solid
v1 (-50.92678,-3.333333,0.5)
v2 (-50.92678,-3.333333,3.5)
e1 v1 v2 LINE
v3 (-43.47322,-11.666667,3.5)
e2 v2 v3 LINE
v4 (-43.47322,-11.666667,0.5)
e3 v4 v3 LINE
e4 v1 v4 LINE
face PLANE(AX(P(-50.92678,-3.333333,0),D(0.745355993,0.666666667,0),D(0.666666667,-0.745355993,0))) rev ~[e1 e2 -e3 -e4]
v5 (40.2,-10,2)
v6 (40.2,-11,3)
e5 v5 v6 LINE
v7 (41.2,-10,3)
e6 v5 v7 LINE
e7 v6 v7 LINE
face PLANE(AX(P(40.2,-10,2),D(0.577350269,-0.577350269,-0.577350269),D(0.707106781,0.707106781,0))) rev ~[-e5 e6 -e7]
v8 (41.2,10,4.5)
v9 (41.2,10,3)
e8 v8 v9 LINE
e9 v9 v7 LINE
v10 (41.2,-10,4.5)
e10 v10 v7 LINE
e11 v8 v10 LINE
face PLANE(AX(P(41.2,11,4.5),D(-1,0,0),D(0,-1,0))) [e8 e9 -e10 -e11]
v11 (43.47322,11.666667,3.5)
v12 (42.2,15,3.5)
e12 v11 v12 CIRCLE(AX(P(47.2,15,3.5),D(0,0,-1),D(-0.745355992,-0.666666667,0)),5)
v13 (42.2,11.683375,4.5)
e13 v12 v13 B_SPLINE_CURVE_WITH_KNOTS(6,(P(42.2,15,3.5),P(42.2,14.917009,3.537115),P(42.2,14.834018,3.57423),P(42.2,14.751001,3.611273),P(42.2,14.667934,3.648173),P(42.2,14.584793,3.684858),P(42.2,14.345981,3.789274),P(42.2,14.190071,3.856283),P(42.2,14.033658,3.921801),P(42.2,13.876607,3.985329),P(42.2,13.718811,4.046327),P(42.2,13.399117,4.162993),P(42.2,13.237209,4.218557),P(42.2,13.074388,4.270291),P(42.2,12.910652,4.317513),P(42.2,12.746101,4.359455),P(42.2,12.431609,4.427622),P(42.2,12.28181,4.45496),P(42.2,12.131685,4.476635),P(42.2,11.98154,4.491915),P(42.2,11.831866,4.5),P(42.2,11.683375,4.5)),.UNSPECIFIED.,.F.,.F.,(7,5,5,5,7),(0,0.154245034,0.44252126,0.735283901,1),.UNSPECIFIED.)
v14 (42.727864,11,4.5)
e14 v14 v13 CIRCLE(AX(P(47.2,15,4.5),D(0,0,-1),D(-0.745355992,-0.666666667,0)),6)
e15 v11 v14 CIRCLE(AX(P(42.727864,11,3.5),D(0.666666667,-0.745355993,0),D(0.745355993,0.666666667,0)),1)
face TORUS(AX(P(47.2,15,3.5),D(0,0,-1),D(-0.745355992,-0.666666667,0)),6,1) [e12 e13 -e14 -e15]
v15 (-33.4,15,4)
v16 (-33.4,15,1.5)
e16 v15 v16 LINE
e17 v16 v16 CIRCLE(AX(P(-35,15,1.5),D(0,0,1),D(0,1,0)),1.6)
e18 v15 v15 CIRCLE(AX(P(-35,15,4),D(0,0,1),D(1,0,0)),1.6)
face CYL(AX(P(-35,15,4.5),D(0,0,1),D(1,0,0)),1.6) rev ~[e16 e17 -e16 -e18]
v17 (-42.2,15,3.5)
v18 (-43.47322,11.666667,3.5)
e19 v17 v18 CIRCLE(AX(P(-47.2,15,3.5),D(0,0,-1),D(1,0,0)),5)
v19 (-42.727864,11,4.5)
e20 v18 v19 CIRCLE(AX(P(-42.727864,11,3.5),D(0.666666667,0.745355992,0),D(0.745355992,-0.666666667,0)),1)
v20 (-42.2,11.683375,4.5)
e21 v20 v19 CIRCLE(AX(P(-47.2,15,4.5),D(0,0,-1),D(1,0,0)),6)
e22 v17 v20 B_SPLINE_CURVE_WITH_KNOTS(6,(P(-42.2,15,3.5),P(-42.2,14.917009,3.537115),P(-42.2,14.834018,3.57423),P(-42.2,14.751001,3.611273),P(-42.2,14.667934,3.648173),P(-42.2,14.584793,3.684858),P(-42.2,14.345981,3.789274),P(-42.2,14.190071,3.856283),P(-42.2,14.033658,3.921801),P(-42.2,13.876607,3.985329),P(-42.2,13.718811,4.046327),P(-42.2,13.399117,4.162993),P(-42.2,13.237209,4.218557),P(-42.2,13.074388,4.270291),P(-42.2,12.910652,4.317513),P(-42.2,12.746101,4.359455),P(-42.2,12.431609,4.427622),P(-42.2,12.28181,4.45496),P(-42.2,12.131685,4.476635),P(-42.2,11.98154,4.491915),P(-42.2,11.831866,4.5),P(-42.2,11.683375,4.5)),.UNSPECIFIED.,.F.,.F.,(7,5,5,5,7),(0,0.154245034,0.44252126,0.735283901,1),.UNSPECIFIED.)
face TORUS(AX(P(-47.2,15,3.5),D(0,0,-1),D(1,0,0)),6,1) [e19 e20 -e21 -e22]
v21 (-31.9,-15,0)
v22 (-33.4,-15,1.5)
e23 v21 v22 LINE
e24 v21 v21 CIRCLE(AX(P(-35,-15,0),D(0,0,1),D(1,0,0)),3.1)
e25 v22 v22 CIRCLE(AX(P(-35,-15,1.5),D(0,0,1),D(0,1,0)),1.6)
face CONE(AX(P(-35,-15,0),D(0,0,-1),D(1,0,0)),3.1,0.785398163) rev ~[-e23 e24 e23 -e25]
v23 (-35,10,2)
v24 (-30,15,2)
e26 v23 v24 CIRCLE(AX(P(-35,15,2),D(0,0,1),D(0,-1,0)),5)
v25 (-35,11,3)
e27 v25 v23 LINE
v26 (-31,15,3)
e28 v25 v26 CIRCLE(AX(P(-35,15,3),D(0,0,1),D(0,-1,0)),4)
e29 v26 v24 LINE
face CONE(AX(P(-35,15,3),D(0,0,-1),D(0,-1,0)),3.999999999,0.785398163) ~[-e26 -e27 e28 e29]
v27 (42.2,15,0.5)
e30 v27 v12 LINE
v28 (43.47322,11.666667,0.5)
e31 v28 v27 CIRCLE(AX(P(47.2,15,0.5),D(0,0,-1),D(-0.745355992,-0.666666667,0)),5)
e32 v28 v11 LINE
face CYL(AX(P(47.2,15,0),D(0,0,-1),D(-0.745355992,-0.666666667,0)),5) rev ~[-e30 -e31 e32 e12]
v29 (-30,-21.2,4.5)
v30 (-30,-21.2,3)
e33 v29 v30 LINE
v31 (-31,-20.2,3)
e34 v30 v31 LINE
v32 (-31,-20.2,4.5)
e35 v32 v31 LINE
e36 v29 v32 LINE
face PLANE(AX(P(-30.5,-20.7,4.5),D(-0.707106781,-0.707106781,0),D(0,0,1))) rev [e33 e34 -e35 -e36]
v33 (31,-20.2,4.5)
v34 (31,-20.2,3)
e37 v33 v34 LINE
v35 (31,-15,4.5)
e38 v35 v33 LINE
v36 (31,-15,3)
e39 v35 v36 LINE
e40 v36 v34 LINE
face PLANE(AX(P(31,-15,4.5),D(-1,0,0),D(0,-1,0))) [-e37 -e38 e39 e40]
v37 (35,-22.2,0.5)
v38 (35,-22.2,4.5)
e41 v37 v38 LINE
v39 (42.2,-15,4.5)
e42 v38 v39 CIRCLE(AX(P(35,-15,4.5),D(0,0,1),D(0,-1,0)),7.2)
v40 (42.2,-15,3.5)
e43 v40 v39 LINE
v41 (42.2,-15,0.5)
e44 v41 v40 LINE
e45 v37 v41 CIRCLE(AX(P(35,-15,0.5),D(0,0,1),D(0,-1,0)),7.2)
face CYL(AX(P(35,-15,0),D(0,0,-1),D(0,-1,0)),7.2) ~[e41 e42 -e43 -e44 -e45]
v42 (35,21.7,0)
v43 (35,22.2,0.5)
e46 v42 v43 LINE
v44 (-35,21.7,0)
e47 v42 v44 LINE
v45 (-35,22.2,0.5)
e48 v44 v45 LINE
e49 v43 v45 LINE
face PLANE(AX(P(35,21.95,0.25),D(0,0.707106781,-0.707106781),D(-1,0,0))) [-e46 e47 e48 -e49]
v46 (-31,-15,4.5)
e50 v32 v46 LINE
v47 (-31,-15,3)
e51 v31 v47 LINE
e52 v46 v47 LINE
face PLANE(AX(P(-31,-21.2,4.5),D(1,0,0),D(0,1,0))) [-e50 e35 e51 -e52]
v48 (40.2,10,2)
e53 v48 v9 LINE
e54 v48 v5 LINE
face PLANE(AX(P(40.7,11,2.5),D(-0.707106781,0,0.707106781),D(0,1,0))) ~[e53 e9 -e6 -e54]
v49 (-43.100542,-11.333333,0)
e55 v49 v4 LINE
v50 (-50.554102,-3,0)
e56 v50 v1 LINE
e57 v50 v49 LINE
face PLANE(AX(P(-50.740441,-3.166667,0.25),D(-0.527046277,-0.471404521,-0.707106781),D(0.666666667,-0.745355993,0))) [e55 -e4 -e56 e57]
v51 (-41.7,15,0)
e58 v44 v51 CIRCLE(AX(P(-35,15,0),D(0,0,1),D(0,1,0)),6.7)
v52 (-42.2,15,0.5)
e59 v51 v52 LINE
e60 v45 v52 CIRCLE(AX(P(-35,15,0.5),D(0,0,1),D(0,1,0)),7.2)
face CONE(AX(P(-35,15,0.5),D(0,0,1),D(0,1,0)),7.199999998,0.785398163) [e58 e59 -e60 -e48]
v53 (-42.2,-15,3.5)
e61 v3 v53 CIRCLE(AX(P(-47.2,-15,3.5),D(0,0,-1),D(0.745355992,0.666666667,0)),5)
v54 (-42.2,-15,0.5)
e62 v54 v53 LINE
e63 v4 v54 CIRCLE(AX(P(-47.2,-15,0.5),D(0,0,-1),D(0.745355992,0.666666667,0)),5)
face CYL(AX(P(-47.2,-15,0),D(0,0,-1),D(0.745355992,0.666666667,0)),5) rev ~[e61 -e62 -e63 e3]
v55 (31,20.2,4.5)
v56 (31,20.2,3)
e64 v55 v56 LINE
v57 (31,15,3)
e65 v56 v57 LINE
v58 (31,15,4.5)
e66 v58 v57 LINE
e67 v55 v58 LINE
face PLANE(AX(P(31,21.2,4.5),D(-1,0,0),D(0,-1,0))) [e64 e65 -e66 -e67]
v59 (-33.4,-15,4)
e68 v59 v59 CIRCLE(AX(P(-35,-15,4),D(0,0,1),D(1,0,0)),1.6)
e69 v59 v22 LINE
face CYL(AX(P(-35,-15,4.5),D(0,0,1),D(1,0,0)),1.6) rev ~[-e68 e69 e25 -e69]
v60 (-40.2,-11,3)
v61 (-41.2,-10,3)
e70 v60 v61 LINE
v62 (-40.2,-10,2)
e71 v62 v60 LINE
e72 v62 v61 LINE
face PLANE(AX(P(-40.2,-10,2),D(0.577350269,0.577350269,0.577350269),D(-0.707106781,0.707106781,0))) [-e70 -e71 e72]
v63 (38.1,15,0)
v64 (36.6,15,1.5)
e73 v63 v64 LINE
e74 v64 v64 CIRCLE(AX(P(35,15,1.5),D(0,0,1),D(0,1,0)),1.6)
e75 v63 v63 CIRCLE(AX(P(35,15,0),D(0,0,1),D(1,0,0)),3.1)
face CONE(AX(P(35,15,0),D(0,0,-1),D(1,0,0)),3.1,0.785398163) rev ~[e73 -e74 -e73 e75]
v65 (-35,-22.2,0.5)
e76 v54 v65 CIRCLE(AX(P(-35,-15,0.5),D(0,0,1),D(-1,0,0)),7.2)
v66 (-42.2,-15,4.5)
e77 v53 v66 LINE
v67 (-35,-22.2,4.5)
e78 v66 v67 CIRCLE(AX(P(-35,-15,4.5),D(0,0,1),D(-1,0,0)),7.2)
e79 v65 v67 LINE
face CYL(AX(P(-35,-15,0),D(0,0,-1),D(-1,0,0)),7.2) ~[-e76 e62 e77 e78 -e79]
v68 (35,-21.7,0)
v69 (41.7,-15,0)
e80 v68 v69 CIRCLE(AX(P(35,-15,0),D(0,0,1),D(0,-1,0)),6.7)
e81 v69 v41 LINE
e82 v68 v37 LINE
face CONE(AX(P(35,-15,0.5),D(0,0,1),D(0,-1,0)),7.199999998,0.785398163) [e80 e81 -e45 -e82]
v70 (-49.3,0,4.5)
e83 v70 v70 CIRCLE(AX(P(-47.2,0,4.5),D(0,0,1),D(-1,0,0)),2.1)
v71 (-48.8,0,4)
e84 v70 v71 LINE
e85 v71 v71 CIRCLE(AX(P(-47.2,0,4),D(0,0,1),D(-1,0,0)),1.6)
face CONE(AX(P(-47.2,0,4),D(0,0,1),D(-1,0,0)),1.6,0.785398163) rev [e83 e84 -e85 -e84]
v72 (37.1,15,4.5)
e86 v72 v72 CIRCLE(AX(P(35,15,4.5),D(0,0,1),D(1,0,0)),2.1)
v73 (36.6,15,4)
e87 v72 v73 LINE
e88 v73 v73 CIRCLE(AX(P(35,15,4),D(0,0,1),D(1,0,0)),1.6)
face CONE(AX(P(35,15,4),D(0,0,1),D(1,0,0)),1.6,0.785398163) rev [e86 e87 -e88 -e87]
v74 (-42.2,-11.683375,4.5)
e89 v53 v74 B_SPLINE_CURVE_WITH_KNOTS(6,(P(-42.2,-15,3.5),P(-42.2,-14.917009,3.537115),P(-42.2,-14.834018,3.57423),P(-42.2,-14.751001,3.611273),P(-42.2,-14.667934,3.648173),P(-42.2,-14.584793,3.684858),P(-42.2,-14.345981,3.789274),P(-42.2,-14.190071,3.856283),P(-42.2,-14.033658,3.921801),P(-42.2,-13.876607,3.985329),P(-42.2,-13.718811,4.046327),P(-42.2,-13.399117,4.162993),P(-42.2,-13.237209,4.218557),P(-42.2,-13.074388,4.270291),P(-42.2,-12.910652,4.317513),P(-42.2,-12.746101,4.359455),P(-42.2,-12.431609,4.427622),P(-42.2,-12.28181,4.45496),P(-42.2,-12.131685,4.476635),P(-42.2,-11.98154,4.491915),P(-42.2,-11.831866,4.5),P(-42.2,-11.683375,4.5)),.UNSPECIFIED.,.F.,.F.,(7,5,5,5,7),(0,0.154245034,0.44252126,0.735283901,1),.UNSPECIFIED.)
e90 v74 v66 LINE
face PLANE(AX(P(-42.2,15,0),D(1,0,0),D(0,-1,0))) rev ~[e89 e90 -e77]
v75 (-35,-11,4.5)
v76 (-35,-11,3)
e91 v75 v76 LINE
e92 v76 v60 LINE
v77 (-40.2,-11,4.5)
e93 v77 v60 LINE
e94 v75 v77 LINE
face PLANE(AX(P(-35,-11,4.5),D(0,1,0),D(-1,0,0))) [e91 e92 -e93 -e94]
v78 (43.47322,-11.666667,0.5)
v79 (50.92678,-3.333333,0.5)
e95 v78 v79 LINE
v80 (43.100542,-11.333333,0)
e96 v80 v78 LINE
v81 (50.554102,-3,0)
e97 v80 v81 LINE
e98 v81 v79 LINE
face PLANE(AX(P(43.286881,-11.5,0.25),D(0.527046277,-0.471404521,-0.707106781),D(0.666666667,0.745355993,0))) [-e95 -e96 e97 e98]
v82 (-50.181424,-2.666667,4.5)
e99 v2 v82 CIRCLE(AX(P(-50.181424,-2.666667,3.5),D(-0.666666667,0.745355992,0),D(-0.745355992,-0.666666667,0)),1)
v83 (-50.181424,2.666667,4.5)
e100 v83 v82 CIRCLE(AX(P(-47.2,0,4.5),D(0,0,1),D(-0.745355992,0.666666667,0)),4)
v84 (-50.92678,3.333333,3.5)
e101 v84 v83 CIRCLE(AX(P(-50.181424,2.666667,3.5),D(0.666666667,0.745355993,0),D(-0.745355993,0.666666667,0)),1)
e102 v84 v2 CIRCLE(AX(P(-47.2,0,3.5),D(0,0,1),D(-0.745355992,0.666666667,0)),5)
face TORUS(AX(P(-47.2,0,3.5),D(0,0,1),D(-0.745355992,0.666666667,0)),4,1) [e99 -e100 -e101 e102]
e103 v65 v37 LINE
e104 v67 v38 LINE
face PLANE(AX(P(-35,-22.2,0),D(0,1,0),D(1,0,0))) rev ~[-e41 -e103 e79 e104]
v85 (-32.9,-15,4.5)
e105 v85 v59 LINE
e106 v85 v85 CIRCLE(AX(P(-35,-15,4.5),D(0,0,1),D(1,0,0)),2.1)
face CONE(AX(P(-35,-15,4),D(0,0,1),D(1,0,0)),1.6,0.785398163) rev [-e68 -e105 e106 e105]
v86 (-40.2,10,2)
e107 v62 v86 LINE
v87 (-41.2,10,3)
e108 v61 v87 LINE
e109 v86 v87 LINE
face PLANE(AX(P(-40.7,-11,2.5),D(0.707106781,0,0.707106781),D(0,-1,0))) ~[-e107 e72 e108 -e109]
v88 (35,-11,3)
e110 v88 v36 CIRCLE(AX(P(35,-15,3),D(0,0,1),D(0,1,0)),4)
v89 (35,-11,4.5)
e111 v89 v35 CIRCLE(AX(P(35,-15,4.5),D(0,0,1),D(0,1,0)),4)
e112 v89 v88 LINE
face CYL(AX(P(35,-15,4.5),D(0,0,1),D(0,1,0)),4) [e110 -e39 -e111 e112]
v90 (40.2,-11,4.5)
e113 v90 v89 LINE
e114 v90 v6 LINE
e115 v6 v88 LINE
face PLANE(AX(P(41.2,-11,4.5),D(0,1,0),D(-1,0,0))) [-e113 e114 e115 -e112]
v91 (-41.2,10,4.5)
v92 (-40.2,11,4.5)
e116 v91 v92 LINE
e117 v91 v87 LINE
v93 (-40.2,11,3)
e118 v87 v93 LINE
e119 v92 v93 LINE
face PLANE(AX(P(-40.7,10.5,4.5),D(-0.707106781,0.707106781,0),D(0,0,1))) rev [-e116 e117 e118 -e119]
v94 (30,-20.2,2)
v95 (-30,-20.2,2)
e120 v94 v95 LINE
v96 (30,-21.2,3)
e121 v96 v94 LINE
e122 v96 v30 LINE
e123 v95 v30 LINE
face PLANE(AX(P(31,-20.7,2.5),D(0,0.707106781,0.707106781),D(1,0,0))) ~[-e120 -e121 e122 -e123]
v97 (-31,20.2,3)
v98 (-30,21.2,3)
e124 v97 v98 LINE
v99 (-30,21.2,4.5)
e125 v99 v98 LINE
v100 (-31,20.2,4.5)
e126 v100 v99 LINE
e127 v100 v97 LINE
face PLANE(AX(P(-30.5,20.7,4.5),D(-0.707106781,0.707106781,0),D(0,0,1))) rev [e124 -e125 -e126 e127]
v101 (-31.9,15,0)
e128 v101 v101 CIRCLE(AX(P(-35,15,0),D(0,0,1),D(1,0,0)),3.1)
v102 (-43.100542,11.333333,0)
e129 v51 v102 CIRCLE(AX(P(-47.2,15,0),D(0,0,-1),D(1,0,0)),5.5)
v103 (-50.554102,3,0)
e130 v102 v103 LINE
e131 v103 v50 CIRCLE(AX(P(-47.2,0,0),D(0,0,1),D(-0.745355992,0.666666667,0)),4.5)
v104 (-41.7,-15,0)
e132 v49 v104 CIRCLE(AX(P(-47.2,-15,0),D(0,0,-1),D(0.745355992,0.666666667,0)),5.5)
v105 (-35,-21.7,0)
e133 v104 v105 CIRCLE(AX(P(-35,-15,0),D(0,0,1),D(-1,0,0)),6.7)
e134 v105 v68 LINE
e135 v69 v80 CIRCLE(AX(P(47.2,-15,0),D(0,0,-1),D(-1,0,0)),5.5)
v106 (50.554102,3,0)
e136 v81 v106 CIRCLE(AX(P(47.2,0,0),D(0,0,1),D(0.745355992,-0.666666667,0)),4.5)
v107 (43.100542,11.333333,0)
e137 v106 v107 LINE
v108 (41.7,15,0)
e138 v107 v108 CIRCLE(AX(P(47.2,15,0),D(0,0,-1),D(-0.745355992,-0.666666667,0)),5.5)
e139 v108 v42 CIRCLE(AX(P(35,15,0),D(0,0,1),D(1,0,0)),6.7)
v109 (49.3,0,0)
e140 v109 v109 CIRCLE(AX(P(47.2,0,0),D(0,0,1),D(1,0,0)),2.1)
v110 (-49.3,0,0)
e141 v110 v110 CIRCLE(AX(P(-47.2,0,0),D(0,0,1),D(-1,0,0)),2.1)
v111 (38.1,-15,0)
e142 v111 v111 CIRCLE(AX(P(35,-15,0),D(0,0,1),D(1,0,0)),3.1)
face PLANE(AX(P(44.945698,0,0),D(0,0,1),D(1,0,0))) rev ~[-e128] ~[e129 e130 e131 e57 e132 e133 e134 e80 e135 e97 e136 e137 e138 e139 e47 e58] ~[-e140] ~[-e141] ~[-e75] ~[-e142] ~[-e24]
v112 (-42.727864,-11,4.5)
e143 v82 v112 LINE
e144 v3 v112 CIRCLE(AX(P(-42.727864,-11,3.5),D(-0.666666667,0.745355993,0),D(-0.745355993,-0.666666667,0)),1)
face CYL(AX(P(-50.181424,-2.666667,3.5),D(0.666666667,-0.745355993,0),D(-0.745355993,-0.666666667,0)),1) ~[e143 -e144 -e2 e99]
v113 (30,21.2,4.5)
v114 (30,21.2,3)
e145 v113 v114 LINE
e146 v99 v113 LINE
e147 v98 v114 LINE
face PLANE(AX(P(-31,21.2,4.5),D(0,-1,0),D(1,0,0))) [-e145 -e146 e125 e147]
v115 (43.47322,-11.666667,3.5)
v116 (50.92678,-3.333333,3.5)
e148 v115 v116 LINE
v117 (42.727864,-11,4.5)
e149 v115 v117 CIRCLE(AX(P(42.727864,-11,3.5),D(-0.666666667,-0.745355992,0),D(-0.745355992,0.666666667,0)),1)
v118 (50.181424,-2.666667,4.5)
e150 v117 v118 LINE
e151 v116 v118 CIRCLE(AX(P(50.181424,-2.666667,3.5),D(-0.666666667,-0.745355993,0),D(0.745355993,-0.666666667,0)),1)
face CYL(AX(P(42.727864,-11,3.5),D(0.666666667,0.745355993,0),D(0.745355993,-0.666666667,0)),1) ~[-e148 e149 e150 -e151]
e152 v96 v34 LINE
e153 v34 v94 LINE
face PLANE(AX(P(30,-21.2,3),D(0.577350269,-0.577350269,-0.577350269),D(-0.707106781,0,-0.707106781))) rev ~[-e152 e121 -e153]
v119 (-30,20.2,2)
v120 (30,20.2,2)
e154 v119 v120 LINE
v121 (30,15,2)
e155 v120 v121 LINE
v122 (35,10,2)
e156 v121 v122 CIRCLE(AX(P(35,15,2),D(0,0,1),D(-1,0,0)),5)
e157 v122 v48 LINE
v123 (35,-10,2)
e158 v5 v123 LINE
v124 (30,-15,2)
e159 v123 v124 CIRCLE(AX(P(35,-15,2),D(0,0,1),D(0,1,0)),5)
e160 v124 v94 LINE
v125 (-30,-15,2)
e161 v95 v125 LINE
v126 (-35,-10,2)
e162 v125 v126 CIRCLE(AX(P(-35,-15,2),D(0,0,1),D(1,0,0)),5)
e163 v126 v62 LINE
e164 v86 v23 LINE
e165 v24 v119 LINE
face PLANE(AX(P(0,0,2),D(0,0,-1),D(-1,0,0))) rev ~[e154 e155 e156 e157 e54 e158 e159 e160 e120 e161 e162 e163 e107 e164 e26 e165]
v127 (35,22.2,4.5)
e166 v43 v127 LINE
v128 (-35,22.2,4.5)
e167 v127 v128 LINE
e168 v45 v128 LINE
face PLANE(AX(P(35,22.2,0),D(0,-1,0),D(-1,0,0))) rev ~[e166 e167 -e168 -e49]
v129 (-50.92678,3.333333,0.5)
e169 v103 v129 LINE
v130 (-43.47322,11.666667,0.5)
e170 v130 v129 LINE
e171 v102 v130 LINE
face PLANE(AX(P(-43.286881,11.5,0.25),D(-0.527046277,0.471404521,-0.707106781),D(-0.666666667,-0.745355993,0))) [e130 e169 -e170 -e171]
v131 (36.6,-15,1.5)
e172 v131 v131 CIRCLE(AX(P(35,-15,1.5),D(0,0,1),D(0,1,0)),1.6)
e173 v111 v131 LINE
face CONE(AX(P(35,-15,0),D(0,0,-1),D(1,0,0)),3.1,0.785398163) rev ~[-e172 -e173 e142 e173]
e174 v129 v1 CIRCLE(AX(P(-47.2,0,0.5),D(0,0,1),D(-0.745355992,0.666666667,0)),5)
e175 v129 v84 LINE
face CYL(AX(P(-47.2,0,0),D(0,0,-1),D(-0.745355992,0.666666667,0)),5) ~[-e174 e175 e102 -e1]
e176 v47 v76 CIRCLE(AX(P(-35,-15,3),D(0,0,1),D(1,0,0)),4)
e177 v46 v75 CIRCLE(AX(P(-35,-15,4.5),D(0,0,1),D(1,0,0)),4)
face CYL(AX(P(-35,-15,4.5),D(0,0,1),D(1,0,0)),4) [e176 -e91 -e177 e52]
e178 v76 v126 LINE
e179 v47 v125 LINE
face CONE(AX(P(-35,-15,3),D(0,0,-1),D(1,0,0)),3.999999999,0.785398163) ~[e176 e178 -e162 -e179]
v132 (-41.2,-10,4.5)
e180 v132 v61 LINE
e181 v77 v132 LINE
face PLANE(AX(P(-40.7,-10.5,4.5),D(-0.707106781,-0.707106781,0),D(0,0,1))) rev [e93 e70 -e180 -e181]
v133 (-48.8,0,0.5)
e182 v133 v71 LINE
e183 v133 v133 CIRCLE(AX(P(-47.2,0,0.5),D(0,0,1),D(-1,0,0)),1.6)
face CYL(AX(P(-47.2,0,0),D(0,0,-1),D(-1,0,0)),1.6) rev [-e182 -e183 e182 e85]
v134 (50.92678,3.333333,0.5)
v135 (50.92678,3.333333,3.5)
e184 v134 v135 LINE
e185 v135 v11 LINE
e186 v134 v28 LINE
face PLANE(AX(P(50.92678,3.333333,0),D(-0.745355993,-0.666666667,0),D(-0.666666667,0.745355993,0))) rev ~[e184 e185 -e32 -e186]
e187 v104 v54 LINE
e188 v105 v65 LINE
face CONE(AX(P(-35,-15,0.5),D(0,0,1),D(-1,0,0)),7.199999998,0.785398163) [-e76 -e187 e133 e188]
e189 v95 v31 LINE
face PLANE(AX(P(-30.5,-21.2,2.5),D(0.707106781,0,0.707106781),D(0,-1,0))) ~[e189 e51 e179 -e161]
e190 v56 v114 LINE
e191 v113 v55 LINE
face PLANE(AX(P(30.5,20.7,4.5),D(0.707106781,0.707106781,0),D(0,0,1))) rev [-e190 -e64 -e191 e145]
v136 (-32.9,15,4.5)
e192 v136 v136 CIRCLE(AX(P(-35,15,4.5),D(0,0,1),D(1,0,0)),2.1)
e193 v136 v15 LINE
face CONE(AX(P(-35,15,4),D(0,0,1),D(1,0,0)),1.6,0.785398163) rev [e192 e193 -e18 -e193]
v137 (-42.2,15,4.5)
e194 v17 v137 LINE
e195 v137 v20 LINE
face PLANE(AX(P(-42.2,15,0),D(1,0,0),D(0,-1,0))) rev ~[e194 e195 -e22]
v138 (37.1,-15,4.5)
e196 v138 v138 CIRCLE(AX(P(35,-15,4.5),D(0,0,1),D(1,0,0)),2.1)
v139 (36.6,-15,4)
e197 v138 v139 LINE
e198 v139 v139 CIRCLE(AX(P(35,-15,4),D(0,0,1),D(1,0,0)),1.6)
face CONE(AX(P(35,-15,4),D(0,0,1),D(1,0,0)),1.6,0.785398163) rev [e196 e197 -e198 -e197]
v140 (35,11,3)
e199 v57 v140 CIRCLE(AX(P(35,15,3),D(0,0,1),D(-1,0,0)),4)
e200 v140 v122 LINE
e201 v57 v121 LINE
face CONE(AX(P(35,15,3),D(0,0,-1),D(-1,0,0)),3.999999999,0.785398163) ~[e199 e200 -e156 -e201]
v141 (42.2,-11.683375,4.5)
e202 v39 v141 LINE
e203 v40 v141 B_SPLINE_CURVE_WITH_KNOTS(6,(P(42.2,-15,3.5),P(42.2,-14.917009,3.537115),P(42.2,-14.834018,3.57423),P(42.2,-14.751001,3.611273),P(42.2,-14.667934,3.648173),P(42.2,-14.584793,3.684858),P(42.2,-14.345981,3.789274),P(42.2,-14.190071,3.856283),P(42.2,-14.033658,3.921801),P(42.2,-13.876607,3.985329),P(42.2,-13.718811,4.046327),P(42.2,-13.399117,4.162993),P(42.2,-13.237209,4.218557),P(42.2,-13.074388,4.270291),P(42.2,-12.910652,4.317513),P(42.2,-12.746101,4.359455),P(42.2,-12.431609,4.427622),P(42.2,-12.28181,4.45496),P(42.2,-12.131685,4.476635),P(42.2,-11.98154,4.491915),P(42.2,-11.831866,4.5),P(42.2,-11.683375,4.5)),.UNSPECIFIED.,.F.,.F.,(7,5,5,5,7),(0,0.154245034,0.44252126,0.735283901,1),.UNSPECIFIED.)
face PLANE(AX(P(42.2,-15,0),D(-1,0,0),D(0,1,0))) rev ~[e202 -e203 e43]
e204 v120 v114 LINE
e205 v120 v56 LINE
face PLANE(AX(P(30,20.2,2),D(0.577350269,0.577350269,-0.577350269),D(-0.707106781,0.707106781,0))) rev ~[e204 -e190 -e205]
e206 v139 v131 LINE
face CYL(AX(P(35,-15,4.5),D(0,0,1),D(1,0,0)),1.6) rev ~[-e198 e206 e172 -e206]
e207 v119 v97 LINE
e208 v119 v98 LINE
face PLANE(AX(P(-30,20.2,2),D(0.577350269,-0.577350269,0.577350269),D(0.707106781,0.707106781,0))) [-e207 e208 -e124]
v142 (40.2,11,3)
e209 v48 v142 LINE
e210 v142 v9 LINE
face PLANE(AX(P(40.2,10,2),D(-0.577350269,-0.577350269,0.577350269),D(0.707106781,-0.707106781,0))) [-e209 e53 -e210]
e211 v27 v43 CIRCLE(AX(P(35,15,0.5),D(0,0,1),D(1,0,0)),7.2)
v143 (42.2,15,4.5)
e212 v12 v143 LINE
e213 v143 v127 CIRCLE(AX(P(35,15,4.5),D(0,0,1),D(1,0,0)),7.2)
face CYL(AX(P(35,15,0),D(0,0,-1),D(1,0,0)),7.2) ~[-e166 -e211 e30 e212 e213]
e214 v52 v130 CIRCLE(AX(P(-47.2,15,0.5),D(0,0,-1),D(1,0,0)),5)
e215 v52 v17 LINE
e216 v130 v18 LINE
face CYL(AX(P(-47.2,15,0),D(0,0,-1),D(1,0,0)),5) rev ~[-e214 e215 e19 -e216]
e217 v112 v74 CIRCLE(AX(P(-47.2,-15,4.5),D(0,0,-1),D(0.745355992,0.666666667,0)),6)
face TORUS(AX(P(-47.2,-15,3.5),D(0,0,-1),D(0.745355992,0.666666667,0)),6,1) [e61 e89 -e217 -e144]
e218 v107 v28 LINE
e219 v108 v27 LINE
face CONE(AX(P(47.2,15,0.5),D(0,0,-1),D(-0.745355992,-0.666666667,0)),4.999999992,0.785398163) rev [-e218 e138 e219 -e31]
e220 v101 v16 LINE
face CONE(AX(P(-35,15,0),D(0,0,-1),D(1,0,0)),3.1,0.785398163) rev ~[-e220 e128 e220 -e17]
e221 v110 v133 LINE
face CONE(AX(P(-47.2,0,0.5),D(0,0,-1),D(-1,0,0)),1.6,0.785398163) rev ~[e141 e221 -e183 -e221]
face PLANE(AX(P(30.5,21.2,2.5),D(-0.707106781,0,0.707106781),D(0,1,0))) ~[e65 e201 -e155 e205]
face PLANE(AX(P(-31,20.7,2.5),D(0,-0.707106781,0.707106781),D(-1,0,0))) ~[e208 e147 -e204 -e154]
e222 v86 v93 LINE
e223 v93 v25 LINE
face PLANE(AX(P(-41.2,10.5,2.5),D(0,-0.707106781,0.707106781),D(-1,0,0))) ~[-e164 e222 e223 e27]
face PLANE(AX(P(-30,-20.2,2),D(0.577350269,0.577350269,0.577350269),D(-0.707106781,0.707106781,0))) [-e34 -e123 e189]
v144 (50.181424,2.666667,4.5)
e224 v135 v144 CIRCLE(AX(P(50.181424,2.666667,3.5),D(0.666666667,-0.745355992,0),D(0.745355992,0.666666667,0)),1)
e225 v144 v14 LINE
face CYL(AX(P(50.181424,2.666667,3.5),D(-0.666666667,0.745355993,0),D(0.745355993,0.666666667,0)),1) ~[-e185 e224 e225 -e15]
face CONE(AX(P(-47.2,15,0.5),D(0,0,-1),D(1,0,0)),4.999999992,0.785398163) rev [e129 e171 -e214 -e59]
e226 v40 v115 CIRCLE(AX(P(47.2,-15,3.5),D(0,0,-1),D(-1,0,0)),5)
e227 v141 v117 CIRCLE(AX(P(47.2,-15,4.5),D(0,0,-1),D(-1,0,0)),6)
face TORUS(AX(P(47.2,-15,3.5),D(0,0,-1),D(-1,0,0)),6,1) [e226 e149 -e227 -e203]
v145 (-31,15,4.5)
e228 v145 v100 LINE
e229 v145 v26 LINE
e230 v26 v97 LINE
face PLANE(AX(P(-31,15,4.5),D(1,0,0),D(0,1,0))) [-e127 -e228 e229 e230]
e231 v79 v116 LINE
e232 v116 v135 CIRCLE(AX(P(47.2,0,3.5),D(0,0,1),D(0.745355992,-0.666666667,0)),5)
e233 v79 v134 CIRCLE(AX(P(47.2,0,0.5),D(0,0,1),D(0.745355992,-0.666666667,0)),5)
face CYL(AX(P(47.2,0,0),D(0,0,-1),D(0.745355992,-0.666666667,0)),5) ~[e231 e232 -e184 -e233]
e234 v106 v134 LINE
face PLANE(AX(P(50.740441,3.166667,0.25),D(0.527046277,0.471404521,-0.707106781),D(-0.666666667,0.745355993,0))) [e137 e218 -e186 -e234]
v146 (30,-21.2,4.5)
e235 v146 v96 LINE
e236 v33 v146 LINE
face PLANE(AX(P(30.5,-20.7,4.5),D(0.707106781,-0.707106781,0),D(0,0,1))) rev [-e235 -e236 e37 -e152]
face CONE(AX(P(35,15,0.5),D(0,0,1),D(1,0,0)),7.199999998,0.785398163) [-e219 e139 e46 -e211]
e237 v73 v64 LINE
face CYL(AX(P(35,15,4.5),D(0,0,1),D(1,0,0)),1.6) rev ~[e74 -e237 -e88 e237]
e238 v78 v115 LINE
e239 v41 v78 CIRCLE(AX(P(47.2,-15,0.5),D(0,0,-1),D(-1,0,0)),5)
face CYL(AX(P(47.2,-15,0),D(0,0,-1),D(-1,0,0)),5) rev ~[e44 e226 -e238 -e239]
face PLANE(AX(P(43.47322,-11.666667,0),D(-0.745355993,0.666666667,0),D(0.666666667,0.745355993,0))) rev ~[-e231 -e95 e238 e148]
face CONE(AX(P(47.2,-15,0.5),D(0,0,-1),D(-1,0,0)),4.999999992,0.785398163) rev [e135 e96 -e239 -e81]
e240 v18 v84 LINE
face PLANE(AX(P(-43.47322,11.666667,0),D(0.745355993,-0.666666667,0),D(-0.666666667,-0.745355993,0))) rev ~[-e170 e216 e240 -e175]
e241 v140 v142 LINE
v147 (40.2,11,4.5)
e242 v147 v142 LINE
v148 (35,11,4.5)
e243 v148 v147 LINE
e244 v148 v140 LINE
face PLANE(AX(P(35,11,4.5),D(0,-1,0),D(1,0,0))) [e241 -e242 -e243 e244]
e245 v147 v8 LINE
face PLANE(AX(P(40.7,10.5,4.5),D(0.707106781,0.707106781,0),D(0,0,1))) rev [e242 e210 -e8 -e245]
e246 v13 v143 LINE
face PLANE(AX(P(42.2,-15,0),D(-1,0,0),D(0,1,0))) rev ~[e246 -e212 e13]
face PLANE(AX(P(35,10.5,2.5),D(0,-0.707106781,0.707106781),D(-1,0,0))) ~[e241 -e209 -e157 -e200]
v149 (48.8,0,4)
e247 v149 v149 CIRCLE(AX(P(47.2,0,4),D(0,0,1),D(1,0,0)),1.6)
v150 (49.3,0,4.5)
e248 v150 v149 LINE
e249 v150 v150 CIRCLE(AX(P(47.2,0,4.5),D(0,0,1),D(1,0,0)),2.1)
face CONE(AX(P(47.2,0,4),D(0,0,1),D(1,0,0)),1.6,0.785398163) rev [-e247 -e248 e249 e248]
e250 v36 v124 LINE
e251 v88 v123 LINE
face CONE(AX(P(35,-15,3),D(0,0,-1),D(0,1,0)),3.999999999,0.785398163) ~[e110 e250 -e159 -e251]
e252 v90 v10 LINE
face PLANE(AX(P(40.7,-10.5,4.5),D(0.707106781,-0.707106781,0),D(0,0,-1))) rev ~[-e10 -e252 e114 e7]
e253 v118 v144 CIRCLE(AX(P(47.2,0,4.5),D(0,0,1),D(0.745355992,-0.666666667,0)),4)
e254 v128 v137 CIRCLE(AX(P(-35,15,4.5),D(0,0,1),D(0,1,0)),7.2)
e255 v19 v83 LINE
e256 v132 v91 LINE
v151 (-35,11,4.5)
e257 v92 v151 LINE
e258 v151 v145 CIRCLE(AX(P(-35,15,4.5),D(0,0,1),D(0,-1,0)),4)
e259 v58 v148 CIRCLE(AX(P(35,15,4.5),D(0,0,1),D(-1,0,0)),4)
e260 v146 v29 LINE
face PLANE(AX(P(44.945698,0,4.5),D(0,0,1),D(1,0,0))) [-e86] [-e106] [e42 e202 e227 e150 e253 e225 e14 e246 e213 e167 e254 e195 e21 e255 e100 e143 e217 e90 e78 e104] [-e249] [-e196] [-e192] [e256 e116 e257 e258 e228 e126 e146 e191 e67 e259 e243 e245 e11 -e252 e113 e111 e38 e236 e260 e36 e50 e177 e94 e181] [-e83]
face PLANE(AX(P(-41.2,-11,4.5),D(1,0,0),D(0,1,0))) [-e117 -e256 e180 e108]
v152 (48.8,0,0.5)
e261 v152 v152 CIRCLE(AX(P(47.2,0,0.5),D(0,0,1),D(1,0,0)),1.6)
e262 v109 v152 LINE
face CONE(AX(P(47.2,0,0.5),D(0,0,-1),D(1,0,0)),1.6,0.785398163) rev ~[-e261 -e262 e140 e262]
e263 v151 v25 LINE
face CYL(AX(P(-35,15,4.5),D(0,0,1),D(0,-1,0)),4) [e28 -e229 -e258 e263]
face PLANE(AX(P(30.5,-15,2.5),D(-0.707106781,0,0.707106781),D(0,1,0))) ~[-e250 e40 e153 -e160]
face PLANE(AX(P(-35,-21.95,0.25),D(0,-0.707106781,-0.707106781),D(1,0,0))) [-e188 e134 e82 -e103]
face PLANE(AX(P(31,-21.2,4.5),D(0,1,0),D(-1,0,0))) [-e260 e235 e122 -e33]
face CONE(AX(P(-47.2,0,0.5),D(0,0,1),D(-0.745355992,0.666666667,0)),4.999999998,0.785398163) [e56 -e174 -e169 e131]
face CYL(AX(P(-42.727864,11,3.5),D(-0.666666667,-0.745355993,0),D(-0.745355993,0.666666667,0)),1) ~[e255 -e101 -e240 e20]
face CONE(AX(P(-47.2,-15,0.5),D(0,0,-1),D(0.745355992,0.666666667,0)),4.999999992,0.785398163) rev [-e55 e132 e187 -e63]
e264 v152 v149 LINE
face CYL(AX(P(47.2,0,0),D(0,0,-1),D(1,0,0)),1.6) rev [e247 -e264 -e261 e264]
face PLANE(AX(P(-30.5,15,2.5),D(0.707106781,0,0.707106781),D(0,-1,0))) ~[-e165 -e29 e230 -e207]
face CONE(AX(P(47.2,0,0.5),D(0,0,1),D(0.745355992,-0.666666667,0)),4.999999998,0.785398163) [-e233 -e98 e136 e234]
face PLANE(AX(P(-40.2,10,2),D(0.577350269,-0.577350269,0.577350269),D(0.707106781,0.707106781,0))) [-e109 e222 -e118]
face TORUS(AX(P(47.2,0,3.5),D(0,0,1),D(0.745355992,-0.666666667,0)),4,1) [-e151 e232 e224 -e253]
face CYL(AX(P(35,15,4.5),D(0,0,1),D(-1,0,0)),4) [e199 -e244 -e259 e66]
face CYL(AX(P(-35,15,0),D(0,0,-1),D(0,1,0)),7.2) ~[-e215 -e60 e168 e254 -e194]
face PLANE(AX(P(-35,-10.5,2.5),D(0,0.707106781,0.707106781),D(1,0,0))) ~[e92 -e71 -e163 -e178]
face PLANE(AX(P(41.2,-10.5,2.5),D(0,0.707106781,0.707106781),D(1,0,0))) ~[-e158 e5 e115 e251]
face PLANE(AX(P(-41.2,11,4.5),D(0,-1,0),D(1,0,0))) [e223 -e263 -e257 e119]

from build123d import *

# Parameters (mm, degrees)
EXTRUDE_1_DEPTH             = 4.5
CUT_EXTRUDE_1_DEPTH         = 2.5
SKETCH_2_3_R                = 1.6
CUT_EXTRUDE_2_DEPTH         = 48.8949893
HOLE_WIZARD_M31_D           = 3.2
HOLE_WIZARD_M31_CSINK_D     = 6.2
HOLE_WIZARD_M31_CSINK_ANGLE = 90
SKETCH_7_R                  = 1.6
EXTRUDE_2_DEPTH             = 4.5
EXTRUDE_2_2_DEPTH           = 4.5
FILLET_1_R                  = 1
FILLET_2_R                  = 1
CHAMFER_1_SIZE              = 0.5
CHAMFER_2_SIZE              = 1


with BuildPart() as part:
    # Эскиз1 → Бобышка-Вытянуть1 (new body)
    with BuildSketch(Plane.XY):
        with BuildLine():
            Line((42.2, -15), (42.2, 15))
            ThreePointArc((42.2, 15), (40.091168825, 20.091168825), (35, 22.2))
            Line((35, 22.2), (-35, 22.2))
            ThreePointArc((-35, 22.2), (-40.091168825, 20.091168825), (-42.2, 15))
            Line((-42.2, 15), (-42.2, -15))
            ThreePointArc((-42.2, -15), (-40.091168825, -20.091168825), (-35, -22.2))
            Line((-35, -22.2), (35, -22.2))
            ThreePointArc((35, -22.2), (40.091168825, -20.091168825), (42.2, -15))
        make_face()
    extrude(amount=EXTRUDE_1_DEPTH)

    # Эскиз2 → Вырез-Вытянуть1 (cut)
    with BuildSketch(Plane.XY.offset(4.5)):
        with BuildLine():
            Line((31, -15), (31, -21.2))
            Line((31, -21.2), (-31, -21.2))
            Line((-31, -21.2), (-31, -15))
            ThreePointArc((-31, -15), (-32.171572875, -12.171572875), (-35, -11))
            Line((-35, -11), (-41.2, -11))
            Line((-41.2, -11), (-41.2, 11))
            Line((-41.2, 11), (-35, 11))
            ThreePointArc((-35, 11), (-32.171572875, 12.171572875), (-31, 15))
            Line((-31, 15), (-31, 21.2))
            Line((-31, 21.2), (31, 21.2))
            Line((31, 21.2), (31, 15))
            ThreePointArc((31, 15), (32.171572875, 12.171572875), (35, 11))
            Line((35, 11), (41.2, 11))
            Line((41.2, 11), (41.2, -11))
            Line((41.2, -11), (35, -11))
            ThreePointArc((35, -11), (32.171572875, -12.171572875), (31, -15))
        make_face()
    extrude(amount=-CUT_EXTRUDE_1_DEPTH, mode=Mode.SUBTRACT)

    # Эскиз2<3> → Вырез-Вытянуть2 (cut, through all)
    with BuildSketch(Plane.XY.offset(4.5)):
        with Locations((35, -15)):
            Circle(SKETCH_2_3_R)
        with Locations((-35, -15)):
            Circle(SKETCH_2_3_R)
        with Locations((-35, 15)):
            Circle(SKETCH_2_3_R)
        with Locations((35, 15)):
            Circle(SKETCH_2_3_R)
    extrude(amount=-CUT_EXTRUDE_2_DEPTH, mode=Mode.SUBTRACT)

    # Зенковка для  винта с потайной головкой с внутренним шестигранником M31 (through all)
    with Locations(Plane(origin=(0, 0, 0), x_dir=(-1, 0, 0), z_dir=(0, 0, -1))):
        with Locations((-35, 15), (-35, -15), (35, -15), (35, 15)):
            CounterSinkHole(HOLE_WIZARD_M31_D / 2, HOLE_WIZARD_M31_CSINK_D / 2, counter_sink_angle=HOLE_WIZARD_M31_CSINK_ANGLE)


with BuildPart() as body_2:
    # Эскиз7 → Бобышка-Вытянуть2 (new body)
    with BuildSketch(Plane.XY):
        with BuildLine():
            Line((43.473220038, -11.666666667), (50.926779962, -3.333333333))
            ThreePointArc((50.926779962, -3.333333333), (52.2, 0), (50.926779962, 3.333333333))
            Line((50.926779962, 3.333333333), (43.473220038, 11.666666667))
            ThreePointArc((43.473220038, 11.666666667), (42.529138205, 13.215889551), (42.2, 15))
            Line((42.2, 15), (42.2, -15))
            ThreePointArc((42.2, -15), (42.529138205, -13.215889551), (43.473220038, -11.666666667))
        make_face()
        with Locations((47.2, 0)):
            Circle(SKETCH_7_R, mode=Mode.SUBTRACT)
    extrude(amount=EXTRUDE_2_DEPTH)

    # Скругление1
    fillet_1_edges = [body_2.edges().sort_by_distance(p)[0] for p in [
        (42.529138205, -13.215889551, 4.5),
        (47.2, -7.5, 4.5),
        (42.529138205, 13.215889551, 4.5),
        (47.2, 7.5, 4.5),
        (52.2, 0, 4.5),
    ]]
    fillet(fillet_1_edges, radius=FILLET_1_R)


with BuildPart() as body_3:
    # Эскиз7 → Extrude 2 2 (new body)
    with BuildSketch(Plane.XY):
        with BuildLine():
            Line((-42.2, -15), (-42.2, 15))
            ThreePointArc((-42.2, 15), (-42.529138205, 13.215889551), (-43.473220038, 11.666666667))
            Line((-43.473220038, 11.666666667), (-50.926779962, 3.333333333))
            ThreePointArc((-50.926779962, 3.333333333), (-52.2, 0), (-50.926779962, -3.333333333))
            Line((-50.926779962, -3.333333333), (-43.473220038, -11.666666667))
            ThreePointArc((-43.473220038, -11.666666667), (-42.529138205, -13.215889551), (-42.2, -15))
        make_face()
        with Locations((-47.2, 0)):
            Circle(SKETCH_7_R, mode=Mode.SUBTRACT)
    extrude(amount=EXTRUDE_2_2_DEPTH)

    # Скругление2
    fillet_2_edges = [body_3.edges().sort_by_distance(p)[0] for p in [
        (-42.529138205, 13.215889551, 4.5),
        (-47.2, 7.5, 4.5),
        (-42.529138205, -13.215889551, 4.5),
        (-47.2, -7.5, 4.5),
        (-52.2, 0, 4.5),
    ]]
    fillet(fillet_2_edges, radius=FILLET_2_R)


with BuildPart() as part_1:
    add(part.part)

    # Combine 1: union body 3, body 2
    add(body_3.part)
    add(body_2.part)

    # Фаска1
    chamfer_1_edges = [part_1.edges().sort_by_distance(p)[0] for p in [
        (0, -22.2, 0),
        (40.091168825, -20.091168825, 0),
        (-40.091168825, -20.091168825, 0),
        (42.529138205, -13.215889551, 0),
        (-42.529138205, -13.215889551, 0),
        (47.2, -7.5, 0),
        (-47.2, -7.5, 0),
        (52.2, 0, 0),
        (-52.2, 0, 0),
        (47.2, 7.5, 0),
        (-47.2, 7.5, 0),
        (42.529138205, 13.215889551, 0),
        (-42.529138205, 13.215889551, 0),
        (40.091168825, 20.091168825, 0),
        (-40.091168825, 20.091168825, 0),
        (0, 22.2, 0),
        (-48.8, 0, 4.5),
        (-36.6, -15, 4.5),
        (-36.6, 15, 4.5),
        (33.4, 15, 4.5),
        (33.4, -15, 4.5),
        (45.6, 0, 4.5),
        (-48.8, 0, 0),
        (45.6, 0, 0),
    ]]
    chamfer(chamfer_1_edges, length=CHAMFER_1_SIZE)

    # Фаска2
    chamfer_2_edges = [part_1.edges().sort_by_distance(p)[0] for p in [
        (-31, -18.1, 2),
        (-38.1, -11, 2),
        (-32.171572875, -12.171572875, 2),
        (-41.2, 0, 2),
        (-38.1, 11, 2),
        (-31, 18.1, 2),
        (-32.171572875, 12.171572875, 2),
        (0, 21.2, 2),
        (38.1, 11, 2),
        (31, 18.1, 2),
        (32.171572875, 12.171572875, 2),
        (41.2, 0, 2),
        (31, -18.1, 2),
        (38.1, -11, 2),
        (32.171572875, -12.171572875, 2),
        (0, -21.2, 2),
        (-41.2, 11, 3.25),
        (-41.2, -11, 3.25),
        (31, 21.2, 3.25),
        (-31, 21.2, 3.25),
        (41.2, 11, 3.25),
        (41.2, -11, 3.25),
        (-31, -21.2, 3.25),
        (31, -21.2, 3.25),
    ]]
    chamfer(chamfer_2_edges, length=CHAMFER_2_SIZE)


solid = part_1.part
